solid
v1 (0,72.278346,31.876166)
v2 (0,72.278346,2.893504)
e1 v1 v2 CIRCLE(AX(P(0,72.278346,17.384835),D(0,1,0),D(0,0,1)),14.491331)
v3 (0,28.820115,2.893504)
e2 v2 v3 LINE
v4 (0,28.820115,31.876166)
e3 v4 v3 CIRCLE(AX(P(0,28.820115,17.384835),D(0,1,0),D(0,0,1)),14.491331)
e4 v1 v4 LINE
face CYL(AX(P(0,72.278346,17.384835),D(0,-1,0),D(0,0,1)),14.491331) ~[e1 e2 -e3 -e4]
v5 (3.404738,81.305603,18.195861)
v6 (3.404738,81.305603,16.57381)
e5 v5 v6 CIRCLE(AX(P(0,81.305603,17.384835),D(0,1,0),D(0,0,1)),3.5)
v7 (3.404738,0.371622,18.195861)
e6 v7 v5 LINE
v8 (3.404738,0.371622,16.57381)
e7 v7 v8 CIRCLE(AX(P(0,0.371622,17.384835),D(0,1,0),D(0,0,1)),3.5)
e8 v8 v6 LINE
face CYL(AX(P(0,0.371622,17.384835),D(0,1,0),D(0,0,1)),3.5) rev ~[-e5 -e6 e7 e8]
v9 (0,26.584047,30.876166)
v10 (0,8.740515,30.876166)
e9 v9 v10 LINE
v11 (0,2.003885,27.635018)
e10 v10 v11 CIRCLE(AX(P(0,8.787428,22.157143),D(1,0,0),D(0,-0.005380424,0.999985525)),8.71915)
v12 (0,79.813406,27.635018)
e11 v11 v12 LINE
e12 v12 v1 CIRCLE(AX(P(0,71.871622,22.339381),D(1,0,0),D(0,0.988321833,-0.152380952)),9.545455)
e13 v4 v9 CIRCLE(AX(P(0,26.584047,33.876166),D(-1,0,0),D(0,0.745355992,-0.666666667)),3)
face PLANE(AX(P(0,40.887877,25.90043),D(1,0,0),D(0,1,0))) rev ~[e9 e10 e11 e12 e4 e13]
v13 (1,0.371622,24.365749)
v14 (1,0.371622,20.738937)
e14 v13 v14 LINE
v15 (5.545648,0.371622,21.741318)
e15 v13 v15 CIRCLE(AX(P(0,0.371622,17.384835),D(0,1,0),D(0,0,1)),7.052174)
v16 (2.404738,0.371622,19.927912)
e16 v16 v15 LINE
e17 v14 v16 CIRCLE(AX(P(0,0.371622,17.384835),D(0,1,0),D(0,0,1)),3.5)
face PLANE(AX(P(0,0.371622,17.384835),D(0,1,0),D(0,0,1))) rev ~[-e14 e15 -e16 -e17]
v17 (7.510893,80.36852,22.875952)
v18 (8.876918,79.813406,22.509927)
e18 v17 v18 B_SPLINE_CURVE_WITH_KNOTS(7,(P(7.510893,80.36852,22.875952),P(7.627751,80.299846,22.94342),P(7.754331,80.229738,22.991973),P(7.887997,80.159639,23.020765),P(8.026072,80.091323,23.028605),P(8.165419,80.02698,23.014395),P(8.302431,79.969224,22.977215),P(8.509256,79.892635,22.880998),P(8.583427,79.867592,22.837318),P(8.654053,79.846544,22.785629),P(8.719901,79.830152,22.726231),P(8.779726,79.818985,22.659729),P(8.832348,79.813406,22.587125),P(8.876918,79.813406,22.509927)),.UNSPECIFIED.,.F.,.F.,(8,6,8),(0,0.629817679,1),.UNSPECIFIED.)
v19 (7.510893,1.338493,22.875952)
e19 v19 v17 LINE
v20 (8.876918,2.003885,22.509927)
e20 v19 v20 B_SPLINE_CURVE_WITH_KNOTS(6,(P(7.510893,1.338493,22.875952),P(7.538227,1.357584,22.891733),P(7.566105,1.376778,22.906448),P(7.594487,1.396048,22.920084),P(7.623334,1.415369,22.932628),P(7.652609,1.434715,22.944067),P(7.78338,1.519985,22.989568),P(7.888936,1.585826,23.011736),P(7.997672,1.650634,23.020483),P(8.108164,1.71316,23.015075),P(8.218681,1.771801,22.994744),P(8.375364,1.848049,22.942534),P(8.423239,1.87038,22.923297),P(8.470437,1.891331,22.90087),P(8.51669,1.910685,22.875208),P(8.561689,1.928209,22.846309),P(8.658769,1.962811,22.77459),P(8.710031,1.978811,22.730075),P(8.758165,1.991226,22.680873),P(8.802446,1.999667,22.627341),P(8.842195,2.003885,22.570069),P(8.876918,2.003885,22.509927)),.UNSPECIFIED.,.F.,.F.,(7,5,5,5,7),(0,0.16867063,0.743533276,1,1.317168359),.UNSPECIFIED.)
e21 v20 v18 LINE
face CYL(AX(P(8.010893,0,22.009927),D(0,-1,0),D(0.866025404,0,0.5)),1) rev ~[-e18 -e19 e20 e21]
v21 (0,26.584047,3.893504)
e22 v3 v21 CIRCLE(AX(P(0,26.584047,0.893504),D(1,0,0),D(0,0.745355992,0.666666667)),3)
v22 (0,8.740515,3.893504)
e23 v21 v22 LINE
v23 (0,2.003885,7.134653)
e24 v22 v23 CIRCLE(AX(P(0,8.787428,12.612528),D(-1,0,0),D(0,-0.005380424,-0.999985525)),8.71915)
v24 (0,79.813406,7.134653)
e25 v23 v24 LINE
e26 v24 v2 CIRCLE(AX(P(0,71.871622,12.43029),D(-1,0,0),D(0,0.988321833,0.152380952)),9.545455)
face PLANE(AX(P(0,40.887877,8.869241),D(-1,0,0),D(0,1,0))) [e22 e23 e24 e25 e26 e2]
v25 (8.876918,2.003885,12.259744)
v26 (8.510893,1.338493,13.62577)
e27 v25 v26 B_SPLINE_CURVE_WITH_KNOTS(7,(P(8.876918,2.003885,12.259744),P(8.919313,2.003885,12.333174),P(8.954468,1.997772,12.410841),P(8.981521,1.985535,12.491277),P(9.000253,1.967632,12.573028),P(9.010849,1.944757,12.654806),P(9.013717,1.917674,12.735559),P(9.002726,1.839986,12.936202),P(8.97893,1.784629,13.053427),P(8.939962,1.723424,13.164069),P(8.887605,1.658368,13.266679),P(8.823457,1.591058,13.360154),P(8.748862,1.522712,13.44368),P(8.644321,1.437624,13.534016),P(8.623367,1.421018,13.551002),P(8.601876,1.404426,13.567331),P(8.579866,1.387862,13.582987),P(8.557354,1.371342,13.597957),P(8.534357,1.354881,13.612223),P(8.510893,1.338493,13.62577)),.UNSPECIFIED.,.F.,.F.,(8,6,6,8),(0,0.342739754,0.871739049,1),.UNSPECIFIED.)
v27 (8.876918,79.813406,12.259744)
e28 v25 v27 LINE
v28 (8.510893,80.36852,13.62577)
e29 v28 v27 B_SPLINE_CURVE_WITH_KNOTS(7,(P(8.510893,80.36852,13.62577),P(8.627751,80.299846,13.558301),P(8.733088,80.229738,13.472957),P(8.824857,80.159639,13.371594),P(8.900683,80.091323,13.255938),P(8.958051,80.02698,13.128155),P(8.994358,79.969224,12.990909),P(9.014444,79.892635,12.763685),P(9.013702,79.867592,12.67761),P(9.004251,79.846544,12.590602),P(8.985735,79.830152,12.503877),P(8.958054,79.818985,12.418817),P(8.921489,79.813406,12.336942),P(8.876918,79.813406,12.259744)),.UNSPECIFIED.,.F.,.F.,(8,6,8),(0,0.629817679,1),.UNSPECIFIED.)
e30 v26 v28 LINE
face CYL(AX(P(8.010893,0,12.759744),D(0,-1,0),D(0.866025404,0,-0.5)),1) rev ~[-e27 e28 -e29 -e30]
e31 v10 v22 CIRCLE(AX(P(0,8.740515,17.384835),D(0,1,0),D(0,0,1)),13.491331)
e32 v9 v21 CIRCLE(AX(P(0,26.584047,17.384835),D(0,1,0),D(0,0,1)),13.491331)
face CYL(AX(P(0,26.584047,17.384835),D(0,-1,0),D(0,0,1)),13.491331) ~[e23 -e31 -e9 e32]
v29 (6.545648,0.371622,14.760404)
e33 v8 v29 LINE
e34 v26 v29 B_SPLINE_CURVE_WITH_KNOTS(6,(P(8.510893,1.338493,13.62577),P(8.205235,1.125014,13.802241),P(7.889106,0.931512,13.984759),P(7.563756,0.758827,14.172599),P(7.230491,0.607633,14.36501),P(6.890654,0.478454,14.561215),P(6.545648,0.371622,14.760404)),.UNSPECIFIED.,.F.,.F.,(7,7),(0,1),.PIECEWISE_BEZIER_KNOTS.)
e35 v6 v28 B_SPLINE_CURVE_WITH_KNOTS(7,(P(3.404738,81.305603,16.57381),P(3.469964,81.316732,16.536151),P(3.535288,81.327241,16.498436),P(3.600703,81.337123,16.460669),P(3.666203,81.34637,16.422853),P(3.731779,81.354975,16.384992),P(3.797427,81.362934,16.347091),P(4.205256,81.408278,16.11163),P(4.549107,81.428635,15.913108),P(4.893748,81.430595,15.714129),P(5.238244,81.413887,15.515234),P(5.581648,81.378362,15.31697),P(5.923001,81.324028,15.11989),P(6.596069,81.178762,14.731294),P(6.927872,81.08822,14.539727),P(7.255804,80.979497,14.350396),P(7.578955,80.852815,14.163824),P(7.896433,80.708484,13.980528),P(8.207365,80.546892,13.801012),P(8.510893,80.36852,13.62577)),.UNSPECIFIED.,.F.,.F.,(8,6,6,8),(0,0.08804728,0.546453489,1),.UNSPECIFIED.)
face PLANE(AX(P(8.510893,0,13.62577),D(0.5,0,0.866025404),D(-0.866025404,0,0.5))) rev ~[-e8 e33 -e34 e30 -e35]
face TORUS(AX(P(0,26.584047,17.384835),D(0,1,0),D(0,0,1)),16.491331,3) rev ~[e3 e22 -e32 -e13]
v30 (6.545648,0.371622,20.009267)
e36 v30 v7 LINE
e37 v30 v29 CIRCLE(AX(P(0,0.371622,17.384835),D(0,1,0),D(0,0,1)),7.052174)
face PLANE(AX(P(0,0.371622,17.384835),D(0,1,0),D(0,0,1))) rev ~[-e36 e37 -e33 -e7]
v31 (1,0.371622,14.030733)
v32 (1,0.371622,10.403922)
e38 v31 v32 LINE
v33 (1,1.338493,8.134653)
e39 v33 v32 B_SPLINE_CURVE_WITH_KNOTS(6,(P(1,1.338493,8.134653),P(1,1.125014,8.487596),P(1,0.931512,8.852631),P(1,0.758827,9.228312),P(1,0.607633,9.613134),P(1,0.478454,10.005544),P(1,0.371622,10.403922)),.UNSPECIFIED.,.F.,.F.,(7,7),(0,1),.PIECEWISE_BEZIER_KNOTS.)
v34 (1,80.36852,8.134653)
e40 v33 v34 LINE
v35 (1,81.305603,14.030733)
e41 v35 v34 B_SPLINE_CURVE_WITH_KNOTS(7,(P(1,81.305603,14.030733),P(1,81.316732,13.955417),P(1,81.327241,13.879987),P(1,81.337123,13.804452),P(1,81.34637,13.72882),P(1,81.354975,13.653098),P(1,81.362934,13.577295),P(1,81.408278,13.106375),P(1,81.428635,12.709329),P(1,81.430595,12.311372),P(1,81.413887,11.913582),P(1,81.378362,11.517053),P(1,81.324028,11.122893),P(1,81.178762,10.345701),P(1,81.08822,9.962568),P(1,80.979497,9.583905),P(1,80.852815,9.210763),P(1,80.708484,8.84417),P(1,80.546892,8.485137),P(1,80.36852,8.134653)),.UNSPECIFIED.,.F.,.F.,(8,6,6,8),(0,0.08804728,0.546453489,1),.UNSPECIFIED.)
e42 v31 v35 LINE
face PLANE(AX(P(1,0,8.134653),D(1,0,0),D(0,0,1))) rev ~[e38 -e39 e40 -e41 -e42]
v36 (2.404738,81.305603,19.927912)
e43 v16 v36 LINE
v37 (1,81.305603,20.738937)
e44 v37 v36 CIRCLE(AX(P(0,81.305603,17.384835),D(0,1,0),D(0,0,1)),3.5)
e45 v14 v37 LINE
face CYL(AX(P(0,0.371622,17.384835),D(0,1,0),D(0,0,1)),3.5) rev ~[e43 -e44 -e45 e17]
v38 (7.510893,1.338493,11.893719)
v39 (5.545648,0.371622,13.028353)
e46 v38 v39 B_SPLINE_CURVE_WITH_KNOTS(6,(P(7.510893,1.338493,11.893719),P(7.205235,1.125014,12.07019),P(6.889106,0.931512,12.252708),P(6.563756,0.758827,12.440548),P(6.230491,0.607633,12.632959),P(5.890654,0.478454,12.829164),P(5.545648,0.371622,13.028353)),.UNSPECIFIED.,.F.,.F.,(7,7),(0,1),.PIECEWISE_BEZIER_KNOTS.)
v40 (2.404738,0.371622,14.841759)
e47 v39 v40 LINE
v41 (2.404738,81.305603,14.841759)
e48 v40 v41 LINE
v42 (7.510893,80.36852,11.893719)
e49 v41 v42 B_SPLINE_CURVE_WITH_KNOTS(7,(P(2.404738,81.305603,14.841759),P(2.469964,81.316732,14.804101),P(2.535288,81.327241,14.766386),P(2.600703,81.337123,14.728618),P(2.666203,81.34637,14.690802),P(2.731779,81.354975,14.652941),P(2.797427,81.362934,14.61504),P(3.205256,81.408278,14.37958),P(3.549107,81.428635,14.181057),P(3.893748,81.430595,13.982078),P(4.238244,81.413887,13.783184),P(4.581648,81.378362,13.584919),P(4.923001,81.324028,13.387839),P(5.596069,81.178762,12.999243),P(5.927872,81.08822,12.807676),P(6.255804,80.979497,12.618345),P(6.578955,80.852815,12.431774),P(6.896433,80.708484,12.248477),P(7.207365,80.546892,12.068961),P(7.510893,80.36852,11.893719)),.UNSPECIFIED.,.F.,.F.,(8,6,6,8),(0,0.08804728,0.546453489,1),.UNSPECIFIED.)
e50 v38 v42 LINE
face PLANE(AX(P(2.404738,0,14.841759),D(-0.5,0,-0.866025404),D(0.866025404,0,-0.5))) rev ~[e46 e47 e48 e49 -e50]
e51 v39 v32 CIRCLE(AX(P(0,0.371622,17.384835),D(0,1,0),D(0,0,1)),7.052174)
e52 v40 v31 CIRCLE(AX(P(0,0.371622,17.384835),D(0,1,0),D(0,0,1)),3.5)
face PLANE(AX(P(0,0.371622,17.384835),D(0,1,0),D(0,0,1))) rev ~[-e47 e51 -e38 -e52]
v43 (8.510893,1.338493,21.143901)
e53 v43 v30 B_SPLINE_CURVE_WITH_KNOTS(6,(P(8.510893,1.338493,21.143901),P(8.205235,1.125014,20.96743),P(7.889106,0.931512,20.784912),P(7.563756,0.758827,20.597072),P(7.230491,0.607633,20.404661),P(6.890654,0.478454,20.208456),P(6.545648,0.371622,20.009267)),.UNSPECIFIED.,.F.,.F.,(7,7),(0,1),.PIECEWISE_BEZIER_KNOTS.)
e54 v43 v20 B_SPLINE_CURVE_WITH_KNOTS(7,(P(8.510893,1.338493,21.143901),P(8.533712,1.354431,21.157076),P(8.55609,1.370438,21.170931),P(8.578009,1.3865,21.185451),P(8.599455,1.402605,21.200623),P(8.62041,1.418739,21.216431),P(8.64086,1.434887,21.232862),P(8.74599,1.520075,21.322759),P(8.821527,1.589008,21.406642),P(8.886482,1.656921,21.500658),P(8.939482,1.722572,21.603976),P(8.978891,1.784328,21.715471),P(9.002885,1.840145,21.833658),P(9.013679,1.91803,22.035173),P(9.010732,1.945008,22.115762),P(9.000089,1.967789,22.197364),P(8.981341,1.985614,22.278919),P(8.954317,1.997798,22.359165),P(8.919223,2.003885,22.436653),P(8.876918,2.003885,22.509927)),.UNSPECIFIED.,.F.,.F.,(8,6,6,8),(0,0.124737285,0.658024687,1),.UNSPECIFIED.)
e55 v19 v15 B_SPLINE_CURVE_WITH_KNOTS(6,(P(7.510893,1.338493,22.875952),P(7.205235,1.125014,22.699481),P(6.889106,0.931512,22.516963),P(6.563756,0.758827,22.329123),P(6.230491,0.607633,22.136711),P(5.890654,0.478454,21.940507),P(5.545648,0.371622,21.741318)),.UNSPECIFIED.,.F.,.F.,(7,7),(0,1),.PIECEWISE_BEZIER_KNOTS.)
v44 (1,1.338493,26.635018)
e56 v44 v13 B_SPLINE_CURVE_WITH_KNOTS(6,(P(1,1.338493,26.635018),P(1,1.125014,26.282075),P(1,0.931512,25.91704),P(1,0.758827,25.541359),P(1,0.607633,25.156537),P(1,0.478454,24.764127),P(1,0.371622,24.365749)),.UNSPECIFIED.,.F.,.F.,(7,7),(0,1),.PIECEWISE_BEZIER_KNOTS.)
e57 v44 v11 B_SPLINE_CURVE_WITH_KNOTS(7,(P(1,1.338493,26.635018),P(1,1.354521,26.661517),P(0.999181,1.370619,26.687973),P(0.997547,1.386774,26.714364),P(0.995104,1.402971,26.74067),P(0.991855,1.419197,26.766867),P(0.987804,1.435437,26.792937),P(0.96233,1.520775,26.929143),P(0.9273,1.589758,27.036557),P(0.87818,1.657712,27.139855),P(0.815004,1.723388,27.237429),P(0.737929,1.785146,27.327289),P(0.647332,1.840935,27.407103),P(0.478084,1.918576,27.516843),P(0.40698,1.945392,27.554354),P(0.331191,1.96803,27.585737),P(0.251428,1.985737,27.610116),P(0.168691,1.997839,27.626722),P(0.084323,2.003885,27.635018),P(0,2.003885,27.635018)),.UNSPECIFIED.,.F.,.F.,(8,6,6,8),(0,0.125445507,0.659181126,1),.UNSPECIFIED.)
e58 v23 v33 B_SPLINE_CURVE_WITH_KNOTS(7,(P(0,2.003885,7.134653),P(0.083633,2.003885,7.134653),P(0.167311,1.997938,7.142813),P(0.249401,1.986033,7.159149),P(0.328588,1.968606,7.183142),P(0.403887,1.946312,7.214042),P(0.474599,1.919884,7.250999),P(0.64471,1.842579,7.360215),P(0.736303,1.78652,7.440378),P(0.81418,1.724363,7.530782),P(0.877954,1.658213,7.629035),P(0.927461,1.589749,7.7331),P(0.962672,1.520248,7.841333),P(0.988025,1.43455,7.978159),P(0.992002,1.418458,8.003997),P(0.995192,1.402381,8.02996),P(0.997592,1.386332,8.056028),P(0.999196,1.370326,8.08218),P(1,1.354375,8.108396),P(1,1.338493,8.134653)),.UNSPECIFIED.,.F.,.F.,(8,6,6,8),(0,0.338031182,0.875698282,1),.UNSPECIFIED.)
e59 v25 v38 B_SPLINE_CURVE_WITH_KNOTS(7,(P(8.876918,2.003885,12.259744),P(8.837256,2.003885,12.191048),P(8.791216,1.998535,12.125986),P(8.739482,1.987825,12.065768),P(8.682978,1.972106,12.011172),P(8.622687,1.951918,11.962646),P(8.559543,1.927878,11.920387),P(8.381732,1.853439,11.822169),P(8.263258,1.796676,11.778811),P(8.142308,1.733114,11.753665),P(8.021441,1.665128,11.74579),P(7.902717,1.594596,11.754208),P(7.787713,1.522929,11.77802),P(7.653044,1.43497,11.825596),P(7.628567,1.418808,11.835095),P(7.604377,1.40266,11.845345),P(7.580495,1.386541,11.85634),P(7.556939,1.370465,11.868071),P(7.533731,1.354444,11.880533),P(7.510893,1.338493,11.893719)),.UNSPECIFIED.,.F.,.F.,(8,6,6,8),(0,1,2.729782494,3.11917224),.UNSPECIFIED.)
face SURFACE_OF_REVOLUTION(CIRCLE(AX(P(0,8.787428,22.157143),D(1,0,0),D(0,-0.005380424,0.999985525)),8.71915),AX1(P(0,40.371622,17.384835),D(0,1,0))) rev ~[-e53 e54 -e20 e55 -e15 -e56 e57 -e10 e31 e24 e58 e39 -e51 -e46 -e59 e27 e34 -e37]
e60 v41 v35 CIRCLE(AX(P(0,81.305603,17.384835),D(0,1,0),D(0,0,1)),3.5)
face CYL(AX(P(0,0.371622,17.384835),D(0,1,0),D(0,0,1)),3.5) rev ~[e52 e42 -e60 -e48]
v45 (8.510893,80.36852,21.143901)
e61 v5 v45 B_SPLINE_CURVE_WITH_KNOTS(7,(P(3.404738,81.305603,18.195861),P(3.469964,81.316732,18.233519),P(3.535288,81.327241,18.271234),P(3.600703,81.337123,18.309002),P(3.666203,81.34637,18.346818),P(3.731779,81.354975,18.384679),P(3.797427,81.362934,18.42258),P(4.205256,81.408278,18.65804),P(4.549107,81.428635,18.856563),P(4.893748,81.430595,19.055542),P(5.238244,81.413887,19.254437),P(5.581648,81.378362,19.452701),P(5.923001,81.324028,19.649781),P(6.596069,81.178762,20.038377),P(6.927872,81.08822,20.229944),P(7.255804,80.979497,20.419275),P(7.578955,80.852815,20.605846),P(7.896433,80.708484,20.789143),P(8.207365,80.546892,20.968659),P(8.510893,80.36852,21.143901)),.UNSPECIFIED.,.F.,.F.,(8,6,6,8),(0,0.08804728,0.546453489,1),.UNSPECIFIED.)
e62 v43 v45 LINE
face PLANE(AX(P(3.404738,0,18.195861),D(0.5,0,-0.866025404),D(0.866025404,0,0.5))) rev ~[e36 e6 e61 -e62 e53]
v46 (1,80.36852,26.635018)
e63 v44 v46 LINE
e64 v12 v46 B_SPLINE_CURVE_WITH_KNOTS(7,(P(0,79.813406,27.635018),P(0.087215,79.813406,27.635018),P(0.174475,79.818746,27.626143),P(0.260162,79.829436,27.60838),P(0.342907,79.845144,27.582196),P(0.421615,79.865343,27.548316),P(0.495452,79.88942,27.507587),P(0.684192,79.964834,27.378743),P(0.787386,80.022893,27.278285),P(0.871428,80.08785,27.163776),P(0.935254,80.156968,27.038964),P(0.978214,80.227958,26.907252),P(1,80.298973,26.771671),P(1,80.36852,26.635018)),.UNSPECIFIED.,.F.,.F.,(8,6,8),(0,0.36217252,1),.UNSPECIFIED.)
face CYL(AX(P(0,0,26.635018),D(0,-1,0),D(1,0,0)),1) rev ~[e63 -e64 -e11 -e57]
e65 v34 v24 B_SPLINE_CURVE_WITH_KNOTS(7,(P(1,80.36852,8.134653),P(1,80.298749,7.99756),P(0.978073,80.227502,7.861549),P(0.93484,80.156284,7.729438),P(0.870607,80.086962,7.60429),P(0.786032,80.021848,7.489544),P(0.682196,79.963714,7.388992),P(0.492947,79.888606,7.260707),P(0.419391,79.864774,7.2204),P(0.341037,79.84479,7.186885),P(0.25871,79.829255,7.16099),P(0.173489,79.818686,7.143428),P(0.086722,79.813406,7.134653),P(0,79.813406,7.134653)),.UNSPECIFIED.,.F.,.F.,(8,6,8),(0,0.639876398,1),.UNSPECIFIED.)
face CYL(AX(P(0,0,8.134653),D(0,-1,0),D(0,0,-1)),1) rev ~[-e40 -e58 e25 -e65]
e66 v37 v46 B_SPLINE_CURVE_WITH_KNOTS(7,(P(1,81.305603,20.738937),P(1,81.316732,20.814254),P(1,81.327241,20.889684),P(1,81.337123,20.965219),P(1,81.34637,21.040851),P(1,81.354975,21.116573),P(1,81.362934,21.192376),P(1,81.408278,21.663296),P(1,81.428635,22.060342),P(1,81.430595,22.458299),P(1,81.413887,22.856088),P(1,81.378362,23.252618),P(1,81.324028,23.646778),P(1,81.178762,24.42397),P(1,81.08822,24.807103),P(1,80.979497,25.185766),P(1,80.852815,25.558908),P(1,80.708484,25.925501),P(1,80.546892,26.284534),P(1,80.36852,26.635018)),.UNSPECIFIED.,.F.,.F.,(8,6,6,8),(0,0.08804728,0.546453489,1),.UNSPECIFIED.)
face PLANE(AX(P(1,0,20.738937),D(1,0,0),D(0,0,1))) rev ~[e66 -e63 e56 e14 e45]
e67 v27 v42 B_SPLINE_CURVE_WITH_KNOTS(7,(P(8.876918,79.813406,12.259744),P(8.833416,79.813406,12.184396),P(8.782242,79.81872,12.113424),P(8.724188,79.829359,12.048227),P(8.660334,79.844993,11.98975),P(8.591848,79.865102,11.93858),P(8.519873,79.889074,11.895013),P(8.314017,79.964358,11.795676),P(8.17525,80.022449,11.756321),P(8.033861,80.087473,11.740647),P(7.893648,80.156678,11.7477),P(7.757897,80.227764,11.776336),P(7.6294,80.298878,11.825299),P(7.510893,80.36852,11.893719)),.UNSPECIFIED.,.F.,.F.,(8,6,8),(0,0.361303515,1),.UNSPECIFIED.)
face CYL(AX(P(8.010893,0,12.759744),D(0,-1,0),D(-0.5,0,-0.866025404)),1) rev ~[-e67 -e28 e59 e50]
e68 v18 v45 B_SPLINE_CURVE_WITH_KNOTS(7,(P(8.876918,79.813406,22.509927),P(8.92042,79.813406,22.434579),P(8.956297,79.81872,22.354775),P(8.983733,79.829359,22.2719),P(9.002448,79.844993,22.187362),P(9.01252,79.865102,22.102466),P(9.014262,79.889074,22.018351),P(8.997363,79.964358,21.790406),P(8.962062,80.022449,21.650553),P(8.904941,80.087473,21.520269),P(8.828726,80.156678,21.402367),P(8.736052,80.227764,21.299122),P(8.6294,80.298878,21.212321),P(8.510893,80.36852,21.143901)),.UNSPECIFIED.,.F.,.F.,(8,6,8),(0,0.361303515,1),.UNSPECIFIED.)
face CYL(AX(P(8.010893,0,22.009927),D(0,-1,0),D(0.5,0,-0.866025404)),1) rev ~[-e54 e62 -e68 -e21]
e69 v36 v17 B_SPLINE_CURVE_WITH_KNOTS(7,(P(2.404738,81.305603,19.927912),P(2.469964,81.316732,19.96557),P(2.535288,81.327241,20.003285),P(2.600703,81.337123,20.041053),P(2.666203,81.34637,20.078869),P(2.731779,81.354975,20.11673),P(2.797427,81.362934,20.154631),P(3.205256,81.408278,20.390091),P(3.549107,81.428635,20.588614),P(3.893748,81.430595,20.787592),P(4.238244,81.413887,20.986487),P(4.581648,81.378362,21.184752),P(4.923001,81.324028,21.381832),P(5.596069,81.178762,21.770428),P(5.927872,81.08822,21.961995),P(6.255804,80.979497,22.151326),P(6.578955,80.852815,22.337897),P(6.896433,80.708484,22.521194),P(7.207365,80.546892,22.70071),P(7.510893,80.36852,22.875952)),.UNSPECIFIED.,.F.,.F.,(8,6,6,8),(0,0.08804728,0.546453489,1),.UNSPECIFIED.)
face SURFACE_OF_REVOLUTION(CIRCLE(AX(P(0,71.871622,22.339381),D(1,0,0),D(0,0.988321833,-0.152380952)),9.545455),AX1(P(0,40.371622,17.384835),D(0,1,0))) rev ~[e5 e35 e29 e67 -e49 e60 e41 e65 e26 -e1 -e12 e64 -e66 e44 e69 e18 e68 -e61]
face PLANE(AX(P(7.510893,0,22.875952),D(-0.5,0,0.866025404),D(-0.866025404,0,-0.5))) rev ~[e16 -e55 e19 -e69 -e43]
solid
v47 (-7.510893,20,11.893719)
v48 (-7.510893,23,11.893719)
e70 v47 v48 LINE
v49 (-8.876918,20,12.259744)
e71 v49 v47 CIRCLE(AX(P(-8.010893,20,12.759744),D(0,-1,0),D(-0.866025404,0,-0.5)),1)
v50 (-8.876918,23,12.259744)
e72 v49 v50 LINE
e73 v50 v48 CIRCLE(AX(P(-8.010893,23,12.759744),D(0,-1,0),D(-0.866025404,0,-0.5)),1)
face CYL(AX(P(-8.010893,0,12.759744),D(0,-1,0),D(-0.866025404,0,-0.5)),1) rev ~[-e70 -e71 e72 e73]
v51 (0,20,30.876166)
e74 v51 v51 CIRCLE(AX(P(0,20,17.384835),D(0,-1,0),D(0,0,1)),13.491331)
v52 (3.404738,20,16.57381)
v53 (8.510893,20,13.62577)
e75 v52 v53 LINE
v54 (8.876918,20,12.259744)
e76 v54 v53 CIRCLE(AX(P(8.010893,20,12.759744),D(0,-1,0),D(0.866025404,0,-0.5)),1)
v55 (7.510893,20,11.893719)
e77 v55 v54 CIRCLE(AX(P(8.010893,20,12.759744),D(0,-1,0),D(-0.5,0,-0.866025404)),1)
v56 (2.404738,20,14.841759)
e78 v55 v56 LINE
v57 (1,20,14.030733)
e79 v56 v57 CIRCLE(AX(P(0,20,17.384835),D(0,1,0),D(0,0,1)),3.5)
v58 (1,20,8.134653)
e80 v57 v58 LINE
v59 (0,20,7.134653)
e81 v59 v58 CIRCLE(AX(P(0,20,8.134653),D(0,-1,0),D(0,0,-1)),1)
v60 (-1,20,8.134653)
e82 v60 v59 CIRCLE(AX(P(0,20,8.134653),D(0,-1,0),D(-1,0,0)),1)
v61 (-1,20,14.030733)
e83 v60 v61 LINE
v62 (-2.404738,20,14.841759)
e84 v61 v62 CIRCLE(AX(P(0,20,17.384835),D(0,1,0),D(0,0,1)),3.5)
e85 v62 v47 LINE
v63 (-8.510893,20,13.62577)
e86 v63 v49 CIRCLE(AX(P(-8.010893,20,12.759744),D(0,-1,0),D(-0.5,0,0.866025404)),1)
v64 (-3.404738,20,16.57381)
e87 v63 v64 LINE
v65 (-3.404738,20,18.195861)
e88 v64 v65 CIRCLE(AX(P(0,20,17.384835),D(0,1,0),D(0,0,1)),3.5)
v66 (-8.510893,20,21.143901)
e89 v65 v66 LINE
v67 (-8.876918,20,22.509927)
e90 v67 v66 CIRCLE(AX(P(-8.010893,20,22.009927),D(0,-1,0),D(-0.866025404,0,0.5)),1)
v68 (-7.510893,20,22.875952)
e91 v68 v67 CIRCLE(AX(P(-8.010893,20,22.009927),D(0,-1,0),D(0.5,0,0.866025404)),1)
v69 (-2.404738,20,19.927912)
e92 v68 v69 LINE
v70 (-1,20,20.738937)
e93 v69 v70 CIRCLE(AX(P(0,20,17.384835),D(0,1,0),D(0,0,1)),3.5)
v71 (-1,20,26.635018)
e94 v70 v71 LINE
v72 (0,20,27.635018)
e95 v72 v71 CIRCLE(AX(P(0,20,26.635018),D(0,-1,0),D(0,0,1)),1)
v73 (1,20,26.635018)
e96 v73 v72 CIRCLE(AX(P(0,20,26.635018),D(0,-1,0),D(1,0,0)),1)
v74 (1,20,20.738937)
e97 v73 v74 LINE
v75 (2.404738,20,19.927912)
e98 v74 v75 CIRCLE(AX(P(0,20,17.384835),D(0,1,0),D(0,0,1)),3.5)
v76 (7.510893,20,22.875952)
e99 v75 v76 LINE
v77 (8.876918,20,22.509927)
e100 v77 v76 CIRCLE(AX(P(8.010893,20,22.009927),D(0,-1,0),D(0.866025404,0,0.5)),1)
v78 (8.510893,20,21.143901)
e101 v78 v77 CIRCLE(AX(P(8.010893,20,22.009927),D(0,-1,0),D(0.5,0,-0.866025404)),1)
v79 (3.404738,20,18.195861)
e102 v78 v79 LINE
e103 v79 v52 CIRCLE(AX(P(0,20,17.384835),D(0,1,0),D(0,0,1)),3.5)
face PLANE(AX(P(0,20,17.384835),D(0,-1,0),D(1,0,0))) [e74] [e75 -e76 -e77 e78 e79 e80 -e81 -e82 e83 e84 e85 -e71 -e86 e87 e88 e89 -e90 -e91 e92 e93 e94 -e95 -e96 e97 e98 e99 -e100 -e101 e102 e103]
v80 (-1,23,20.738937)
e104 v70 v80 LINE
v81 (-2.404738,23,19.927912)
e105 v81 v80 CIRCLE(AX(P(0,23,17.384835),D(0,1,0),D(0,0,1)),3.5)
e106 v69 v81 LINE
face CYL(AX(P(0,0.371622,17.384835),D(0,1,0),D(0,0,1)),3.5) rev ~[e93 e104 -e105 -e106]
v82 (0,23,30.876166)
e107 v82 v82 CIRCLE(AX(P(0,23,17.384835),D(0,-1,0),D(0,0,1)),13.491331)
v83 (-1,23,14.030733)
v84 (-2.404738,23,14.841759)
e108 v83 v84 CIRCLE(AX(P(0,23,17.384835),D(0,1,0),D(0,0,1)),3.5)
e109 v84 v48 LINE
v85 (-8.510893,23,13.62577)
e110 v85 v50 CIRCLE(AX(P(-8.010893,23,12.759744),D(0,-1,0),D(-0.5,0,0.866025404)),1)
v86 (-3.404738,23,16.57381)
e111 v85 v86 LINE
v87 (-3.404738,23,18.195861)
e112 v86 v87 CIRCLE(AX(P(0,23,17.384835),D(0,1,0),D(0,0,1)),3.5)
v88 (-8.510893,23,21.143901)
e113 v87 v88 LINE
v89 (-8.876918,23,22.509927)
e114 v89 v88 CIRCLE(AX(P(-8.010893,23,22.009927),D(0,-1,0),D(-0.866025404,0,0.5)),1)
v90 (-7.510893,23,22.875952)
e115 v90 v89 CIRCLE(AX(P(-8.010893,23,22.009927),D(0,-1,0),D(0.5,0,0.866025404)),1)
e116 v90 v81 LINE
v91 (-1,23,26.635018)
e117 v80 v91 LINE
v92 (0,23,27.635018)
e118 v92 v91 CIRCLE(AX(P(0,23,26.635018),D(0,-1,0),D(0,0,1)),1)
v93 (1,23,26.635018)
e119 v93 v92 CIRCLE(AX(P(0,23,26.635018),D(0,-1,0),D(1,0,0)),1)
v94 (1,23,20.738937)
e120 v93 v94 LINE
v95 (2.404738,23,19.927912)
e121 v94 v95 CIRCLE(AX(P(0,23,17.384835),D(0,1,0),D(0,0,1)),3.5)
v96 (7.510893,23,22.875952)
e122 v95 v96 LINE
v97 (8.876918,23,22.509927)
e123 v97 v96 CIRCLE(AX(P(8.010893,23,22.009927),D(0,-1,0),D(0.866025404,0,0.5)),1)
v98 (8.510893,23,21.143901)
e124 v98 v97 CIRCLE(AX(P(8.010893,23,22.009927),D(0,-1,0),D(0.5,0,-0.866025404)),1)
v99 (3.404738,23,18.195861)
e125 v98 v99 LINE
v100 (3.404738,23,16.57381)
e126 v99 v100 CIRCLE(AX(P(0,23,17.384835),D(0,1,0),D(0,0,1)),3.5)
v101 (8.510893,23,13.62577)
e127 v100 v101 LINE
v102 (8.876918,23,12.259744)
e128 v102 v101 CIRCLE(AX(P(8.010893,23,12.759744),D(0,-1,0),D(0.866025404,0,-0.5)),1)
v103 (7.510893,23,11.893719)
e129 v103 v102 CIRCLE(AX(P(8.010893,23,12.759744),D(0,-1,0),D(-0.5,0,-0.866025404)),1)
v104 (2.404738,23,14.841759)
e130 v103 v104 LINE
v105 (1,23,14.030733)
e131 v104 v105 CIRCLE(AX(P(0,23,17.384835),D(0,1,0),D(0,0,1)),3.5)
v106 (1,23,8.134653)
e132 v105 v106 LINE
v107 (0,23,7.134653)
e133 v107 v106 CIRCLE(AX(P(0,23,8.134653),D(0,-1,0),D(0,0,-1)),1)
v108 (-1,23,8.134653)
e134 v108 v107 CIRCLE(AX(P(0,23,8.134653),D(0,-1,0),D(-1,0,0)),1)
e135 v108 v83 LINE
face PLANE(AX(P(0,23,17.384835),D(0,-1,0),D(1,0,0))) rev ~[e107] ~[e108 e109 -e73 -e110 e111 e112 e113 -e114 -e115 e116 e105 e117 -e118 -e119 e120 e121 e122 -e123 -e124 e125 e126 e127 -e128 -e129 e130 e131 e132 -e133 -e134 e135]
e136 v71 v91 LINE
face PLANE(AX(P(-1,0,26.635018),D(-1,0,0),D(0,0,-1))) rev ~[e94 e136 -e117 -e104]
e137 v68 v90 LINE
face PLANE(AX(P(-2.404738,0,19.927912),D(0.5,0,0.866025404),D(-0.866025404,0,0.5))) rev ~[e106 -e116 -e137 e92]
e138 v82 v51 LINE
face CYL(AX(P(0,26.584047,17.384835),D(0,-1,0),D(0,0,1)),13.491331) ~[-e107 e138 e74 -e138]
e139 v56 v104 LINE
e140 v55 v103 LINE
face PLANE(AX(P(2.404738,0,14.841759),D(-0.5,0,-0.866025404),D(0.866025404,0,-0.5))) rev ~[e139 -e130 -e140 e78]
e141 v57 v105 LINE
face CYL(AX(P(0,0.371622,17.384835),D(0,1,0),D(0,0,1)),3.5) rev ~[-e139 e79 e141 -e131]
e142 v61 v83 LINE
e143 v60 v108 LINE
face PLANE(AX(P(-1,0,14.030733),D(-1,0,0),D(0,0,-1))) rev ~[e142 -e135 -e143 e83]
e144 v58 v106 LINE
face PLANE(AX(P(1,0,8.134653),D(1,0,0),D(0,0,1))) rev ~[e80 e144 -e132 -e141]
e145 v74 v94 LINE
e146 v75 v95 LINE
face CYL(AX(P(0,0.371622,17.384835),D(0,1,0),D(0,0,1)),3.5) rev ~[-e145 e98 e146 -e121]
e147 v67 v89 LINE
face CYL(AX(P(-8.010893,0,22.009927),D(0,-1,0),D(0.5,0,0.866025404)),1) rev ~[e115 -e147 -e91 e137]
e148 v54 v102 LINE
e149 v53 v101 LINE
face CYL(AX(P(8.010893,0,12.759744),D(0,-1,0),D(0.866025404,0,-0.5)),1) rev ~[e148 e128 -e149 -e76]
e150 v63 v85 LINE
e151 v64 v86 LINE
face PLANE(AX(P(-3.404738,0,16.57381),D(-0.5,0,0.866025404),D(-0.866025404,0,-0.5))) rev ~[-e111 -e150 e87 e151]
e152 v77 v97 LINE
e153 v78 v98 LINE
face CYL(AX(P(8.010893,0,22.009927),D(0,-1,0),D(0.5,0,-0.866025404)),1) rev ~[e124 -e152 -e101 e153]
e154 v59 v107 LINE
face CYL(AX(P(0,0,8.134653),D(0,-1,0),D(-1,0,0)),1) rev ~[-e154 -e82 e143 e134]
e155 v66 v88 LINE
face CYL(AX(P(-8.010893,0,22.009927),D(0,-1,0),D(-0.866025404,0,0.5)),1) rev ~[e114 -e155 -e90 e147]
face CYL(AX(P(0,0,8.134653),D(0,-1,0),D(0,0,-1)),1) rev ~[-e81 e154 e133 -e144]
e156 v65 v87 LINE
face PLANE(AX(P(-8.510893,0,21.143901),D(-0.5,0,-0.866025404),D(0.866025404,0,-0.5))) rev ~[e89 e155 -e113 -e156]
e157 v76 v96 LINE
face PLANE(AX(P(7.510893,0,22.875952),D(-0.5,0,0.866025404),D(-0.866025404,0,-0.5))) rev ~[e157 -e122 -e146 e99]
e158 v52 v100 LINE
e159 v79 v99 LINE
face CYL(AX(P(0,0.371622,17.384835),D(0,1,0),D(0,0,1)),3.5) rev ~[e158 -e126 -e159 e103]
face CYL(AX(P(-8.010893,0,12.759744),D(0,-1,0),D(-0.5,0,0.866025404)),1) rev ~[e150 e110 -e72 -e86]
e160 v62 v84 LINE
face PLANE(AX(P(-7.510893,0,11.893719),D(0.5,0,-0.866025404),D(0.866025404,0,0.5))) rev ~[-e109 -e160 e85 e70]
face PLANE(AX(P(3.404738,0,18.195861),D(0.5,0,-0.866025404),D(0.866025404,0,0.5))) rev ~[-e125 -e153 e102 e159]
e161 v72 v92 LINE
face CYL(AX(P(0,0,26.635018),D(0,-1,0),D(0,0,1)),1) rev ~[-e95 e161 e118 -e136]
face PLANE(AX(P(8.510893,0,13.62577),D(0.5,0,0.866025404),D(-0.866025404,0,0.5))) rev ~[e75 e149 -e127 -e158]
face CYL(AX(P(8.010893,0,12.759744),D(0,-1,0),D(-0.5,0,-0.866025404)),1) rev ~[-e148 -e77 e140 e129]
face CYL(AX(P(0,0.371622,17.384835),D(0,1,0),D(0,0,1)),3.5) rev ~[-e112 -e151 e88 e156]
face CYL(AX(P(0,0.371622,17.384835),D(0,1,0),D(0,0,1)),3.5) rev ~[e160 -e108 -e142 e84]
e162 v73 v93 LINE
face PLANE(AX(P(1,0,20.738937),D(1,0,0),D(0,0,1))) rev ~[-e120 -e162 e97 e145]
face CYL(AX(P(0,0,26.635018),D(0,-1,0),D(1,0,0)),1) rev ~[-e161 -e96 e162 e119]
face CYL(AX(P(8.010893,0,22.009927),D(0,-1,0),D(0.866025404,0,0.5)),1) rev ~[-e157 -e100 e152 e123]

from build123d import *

# Parameters (mm, degrees)
F4_ANGLE  = 180
F6_DEPTH  = 90
F8_COUNT  = 6
F12_START = -20
F11_R     = 13.4913344195
F12_DEPTH = 3


with BuildPart() as f4:
    # F3 (on Right) → F4 (revolve)
    with BuildSketch(Plane.YZ):
        with BuildLine():
            Line((0.3716222048, 20.884835436), (81.3056033368, 20.884835436))
            ThreePointArc((81.3056033368, 20.884835436), (79.2480851868, 28.3977219469), (72.2783456923, 31.8761664331))
            Line((72.2783456923, 31.8761664331), (28.8201148927, 31.8761664331))
            ThreePointArc((28.8201148927, 31.8761664331), (27.8087917866, 31.1375536456), (26.5840469152, 30.8761664331))
            Line((26.5840469152, 30.8761664331), (8.8330505692, 30.8761664331))
            Line((8.8330505692, 30.8761664331), (8.7405150061, 30.8761664331))
            ThreePointArc((8.7405150061, 30.8761664331), (3.470465515, 29.0675325384), (0.3716222048, 24.4370089889))
            Line((0.3716222048, 24.4370089889), (0.3716222048, 20.884835436))
        make_face()
    revolve(axis=Axis((0, 40.3716222048, 17.384835436), (0, 1, 0)), revolution_arc=F4_ANGLE)


with BuildPart() as f6:
    # F5 (on Front) → F6 (new body)
    with BuildSketch(Plane.XZ):
        with BuildLine():
            ThreePointArc((1, 14.0307334698), (0, 13.884835436), (-1, 14.0307334698))
            Line((-1, 14.0307334698), (-1, 8.1346530026))
            ThreePointArc((-1, 8.1346530026), (-0.7071067812, 7.4275462214), (0, 7.1346530026))
            ThreePointArc((0, 7.1346530026), (0.7071067812, 7.4275462214), (1, 8.1346530026))
            Line((1, 8.1346530026), (1, 14.0307334698))
        make_face()
    extrude(amount=-F6_DEPTH)


with BuildPart() as f8_1:
    # F8: instance of F6
    add(f6.part.rotate(Axis((0, 20.536005497, 17.384835436), (0, 1, 0)), 1 * 360 / F8_COUNT))


with BuildPart() as f8_2:
    # F8: instance of F6
    add(f6.part.rotate(Axis((0, 20.536005497, 17.384835436), (0, 1, 0)), 2 * 360 / F8_COUNT))


with BuildPart() as f8_3:
    # F8: instance of F6
    add(f6.part.rotate(Axis((0, 20.536005497, 17.384835436), (0, 1, 0)), 3 * 360 / F8_COUNT))


with BuildPart() as f8_4:
    # F8: instance of F6
    add(f6.part.rotate(Axis((0, 20.536005497, 17.384835436), (0, 1, 0)), 4 * 360 / F8_COUNT))


with BuildPart() as f8_5:
    # F8: instance of F6
    add(f6.part.rotate(Axis((0, 20.536005497, 17.384835436), (0, 1, 0)), 5 * 360 / F8_COUNT))


with BuildPart() as f4_1:
    add(f4.part)

    # F9: cut F6, F8_5, F8_4, F8_3
    add(f6.part, mode=Mode.SUBTRACT)
    add(f8_5.part, mode=Mode.SUBTRACT)
    add(f8_4.part, mode=Mode.SUBTRACT)
    add(f8_3.part, mode=Mode.SUBTRACT)


with BuildPart() as f10:
    # F3 (on Right) → F10 (revolve)
    with BuildSketch(Plane.YZ):
        with BuildLine():
            Line((0.3716222048, 20.884835436), (81.3056033368, 20.884835436))
            ThreePointArc((81.3056033368, 20.884835436), (79.2480851868, 28.3977219469), (72.2783456923, 31.8761664331))
            Line((72.2783456923, 31.8761664331), (28.8201148927, 31.8761664331))
            ThreePointArc((28.8201148927, 31.8761664331), (27.8087917866, 31.1375536456), (26.5840469152, 30.8761664331))
            Line((26.5840469152, 30.8761664331), (8.8330505692, 30.8761664331))
            Line((8.8330505692, 30.8761664331), (8.7405150061, 30.8761664331))
            ThreePointArc((8.7405150061, 30.8761664331), (3.470465515, 29.0675325384), (0.3716222048, 24.4370089889))
            Line((0.3716222048, 24.4370089889), (0.3716222048, 20.884835436))
        make_face()
    revolve(axis=Axis((0, 40.3716222048, 17.384835436), (0, 1, 0)))

    # F13: cut F6, F8_5, F8_4, F8_3, F8_2, F8_1
    add(f6.part, mode=Mode.SUBTRACT)
    add(f8_5.part, mode=Mode.SUBTRACT)
    add(f8_4.part, mode=Mode.SUBTRACT)
    add(f8_3.part, mode=Mode.SUBTRACT)
    add(f8_2.part, mode=Mode.SUBTRACT)
    add(f8_1.part, mode=Mode.SUBTRACT)


with BuildPart() as f12:
    # F11 (on Front) → F12 (new body)
    with BuildSketch(Plane.XZ.offset(F12_START)):
        with Locations((0, 17.384835436)):
            Circle(F11_R)
    extrude(amount=-F12_DEPTH)


with BuildPart() as f10_1:
    add(f10.part)

    # F14: intersect F12
    add(f12.part, mode=Mode.INTERSECT)


solid = Compound([f4_1.part, f10_1.part])
